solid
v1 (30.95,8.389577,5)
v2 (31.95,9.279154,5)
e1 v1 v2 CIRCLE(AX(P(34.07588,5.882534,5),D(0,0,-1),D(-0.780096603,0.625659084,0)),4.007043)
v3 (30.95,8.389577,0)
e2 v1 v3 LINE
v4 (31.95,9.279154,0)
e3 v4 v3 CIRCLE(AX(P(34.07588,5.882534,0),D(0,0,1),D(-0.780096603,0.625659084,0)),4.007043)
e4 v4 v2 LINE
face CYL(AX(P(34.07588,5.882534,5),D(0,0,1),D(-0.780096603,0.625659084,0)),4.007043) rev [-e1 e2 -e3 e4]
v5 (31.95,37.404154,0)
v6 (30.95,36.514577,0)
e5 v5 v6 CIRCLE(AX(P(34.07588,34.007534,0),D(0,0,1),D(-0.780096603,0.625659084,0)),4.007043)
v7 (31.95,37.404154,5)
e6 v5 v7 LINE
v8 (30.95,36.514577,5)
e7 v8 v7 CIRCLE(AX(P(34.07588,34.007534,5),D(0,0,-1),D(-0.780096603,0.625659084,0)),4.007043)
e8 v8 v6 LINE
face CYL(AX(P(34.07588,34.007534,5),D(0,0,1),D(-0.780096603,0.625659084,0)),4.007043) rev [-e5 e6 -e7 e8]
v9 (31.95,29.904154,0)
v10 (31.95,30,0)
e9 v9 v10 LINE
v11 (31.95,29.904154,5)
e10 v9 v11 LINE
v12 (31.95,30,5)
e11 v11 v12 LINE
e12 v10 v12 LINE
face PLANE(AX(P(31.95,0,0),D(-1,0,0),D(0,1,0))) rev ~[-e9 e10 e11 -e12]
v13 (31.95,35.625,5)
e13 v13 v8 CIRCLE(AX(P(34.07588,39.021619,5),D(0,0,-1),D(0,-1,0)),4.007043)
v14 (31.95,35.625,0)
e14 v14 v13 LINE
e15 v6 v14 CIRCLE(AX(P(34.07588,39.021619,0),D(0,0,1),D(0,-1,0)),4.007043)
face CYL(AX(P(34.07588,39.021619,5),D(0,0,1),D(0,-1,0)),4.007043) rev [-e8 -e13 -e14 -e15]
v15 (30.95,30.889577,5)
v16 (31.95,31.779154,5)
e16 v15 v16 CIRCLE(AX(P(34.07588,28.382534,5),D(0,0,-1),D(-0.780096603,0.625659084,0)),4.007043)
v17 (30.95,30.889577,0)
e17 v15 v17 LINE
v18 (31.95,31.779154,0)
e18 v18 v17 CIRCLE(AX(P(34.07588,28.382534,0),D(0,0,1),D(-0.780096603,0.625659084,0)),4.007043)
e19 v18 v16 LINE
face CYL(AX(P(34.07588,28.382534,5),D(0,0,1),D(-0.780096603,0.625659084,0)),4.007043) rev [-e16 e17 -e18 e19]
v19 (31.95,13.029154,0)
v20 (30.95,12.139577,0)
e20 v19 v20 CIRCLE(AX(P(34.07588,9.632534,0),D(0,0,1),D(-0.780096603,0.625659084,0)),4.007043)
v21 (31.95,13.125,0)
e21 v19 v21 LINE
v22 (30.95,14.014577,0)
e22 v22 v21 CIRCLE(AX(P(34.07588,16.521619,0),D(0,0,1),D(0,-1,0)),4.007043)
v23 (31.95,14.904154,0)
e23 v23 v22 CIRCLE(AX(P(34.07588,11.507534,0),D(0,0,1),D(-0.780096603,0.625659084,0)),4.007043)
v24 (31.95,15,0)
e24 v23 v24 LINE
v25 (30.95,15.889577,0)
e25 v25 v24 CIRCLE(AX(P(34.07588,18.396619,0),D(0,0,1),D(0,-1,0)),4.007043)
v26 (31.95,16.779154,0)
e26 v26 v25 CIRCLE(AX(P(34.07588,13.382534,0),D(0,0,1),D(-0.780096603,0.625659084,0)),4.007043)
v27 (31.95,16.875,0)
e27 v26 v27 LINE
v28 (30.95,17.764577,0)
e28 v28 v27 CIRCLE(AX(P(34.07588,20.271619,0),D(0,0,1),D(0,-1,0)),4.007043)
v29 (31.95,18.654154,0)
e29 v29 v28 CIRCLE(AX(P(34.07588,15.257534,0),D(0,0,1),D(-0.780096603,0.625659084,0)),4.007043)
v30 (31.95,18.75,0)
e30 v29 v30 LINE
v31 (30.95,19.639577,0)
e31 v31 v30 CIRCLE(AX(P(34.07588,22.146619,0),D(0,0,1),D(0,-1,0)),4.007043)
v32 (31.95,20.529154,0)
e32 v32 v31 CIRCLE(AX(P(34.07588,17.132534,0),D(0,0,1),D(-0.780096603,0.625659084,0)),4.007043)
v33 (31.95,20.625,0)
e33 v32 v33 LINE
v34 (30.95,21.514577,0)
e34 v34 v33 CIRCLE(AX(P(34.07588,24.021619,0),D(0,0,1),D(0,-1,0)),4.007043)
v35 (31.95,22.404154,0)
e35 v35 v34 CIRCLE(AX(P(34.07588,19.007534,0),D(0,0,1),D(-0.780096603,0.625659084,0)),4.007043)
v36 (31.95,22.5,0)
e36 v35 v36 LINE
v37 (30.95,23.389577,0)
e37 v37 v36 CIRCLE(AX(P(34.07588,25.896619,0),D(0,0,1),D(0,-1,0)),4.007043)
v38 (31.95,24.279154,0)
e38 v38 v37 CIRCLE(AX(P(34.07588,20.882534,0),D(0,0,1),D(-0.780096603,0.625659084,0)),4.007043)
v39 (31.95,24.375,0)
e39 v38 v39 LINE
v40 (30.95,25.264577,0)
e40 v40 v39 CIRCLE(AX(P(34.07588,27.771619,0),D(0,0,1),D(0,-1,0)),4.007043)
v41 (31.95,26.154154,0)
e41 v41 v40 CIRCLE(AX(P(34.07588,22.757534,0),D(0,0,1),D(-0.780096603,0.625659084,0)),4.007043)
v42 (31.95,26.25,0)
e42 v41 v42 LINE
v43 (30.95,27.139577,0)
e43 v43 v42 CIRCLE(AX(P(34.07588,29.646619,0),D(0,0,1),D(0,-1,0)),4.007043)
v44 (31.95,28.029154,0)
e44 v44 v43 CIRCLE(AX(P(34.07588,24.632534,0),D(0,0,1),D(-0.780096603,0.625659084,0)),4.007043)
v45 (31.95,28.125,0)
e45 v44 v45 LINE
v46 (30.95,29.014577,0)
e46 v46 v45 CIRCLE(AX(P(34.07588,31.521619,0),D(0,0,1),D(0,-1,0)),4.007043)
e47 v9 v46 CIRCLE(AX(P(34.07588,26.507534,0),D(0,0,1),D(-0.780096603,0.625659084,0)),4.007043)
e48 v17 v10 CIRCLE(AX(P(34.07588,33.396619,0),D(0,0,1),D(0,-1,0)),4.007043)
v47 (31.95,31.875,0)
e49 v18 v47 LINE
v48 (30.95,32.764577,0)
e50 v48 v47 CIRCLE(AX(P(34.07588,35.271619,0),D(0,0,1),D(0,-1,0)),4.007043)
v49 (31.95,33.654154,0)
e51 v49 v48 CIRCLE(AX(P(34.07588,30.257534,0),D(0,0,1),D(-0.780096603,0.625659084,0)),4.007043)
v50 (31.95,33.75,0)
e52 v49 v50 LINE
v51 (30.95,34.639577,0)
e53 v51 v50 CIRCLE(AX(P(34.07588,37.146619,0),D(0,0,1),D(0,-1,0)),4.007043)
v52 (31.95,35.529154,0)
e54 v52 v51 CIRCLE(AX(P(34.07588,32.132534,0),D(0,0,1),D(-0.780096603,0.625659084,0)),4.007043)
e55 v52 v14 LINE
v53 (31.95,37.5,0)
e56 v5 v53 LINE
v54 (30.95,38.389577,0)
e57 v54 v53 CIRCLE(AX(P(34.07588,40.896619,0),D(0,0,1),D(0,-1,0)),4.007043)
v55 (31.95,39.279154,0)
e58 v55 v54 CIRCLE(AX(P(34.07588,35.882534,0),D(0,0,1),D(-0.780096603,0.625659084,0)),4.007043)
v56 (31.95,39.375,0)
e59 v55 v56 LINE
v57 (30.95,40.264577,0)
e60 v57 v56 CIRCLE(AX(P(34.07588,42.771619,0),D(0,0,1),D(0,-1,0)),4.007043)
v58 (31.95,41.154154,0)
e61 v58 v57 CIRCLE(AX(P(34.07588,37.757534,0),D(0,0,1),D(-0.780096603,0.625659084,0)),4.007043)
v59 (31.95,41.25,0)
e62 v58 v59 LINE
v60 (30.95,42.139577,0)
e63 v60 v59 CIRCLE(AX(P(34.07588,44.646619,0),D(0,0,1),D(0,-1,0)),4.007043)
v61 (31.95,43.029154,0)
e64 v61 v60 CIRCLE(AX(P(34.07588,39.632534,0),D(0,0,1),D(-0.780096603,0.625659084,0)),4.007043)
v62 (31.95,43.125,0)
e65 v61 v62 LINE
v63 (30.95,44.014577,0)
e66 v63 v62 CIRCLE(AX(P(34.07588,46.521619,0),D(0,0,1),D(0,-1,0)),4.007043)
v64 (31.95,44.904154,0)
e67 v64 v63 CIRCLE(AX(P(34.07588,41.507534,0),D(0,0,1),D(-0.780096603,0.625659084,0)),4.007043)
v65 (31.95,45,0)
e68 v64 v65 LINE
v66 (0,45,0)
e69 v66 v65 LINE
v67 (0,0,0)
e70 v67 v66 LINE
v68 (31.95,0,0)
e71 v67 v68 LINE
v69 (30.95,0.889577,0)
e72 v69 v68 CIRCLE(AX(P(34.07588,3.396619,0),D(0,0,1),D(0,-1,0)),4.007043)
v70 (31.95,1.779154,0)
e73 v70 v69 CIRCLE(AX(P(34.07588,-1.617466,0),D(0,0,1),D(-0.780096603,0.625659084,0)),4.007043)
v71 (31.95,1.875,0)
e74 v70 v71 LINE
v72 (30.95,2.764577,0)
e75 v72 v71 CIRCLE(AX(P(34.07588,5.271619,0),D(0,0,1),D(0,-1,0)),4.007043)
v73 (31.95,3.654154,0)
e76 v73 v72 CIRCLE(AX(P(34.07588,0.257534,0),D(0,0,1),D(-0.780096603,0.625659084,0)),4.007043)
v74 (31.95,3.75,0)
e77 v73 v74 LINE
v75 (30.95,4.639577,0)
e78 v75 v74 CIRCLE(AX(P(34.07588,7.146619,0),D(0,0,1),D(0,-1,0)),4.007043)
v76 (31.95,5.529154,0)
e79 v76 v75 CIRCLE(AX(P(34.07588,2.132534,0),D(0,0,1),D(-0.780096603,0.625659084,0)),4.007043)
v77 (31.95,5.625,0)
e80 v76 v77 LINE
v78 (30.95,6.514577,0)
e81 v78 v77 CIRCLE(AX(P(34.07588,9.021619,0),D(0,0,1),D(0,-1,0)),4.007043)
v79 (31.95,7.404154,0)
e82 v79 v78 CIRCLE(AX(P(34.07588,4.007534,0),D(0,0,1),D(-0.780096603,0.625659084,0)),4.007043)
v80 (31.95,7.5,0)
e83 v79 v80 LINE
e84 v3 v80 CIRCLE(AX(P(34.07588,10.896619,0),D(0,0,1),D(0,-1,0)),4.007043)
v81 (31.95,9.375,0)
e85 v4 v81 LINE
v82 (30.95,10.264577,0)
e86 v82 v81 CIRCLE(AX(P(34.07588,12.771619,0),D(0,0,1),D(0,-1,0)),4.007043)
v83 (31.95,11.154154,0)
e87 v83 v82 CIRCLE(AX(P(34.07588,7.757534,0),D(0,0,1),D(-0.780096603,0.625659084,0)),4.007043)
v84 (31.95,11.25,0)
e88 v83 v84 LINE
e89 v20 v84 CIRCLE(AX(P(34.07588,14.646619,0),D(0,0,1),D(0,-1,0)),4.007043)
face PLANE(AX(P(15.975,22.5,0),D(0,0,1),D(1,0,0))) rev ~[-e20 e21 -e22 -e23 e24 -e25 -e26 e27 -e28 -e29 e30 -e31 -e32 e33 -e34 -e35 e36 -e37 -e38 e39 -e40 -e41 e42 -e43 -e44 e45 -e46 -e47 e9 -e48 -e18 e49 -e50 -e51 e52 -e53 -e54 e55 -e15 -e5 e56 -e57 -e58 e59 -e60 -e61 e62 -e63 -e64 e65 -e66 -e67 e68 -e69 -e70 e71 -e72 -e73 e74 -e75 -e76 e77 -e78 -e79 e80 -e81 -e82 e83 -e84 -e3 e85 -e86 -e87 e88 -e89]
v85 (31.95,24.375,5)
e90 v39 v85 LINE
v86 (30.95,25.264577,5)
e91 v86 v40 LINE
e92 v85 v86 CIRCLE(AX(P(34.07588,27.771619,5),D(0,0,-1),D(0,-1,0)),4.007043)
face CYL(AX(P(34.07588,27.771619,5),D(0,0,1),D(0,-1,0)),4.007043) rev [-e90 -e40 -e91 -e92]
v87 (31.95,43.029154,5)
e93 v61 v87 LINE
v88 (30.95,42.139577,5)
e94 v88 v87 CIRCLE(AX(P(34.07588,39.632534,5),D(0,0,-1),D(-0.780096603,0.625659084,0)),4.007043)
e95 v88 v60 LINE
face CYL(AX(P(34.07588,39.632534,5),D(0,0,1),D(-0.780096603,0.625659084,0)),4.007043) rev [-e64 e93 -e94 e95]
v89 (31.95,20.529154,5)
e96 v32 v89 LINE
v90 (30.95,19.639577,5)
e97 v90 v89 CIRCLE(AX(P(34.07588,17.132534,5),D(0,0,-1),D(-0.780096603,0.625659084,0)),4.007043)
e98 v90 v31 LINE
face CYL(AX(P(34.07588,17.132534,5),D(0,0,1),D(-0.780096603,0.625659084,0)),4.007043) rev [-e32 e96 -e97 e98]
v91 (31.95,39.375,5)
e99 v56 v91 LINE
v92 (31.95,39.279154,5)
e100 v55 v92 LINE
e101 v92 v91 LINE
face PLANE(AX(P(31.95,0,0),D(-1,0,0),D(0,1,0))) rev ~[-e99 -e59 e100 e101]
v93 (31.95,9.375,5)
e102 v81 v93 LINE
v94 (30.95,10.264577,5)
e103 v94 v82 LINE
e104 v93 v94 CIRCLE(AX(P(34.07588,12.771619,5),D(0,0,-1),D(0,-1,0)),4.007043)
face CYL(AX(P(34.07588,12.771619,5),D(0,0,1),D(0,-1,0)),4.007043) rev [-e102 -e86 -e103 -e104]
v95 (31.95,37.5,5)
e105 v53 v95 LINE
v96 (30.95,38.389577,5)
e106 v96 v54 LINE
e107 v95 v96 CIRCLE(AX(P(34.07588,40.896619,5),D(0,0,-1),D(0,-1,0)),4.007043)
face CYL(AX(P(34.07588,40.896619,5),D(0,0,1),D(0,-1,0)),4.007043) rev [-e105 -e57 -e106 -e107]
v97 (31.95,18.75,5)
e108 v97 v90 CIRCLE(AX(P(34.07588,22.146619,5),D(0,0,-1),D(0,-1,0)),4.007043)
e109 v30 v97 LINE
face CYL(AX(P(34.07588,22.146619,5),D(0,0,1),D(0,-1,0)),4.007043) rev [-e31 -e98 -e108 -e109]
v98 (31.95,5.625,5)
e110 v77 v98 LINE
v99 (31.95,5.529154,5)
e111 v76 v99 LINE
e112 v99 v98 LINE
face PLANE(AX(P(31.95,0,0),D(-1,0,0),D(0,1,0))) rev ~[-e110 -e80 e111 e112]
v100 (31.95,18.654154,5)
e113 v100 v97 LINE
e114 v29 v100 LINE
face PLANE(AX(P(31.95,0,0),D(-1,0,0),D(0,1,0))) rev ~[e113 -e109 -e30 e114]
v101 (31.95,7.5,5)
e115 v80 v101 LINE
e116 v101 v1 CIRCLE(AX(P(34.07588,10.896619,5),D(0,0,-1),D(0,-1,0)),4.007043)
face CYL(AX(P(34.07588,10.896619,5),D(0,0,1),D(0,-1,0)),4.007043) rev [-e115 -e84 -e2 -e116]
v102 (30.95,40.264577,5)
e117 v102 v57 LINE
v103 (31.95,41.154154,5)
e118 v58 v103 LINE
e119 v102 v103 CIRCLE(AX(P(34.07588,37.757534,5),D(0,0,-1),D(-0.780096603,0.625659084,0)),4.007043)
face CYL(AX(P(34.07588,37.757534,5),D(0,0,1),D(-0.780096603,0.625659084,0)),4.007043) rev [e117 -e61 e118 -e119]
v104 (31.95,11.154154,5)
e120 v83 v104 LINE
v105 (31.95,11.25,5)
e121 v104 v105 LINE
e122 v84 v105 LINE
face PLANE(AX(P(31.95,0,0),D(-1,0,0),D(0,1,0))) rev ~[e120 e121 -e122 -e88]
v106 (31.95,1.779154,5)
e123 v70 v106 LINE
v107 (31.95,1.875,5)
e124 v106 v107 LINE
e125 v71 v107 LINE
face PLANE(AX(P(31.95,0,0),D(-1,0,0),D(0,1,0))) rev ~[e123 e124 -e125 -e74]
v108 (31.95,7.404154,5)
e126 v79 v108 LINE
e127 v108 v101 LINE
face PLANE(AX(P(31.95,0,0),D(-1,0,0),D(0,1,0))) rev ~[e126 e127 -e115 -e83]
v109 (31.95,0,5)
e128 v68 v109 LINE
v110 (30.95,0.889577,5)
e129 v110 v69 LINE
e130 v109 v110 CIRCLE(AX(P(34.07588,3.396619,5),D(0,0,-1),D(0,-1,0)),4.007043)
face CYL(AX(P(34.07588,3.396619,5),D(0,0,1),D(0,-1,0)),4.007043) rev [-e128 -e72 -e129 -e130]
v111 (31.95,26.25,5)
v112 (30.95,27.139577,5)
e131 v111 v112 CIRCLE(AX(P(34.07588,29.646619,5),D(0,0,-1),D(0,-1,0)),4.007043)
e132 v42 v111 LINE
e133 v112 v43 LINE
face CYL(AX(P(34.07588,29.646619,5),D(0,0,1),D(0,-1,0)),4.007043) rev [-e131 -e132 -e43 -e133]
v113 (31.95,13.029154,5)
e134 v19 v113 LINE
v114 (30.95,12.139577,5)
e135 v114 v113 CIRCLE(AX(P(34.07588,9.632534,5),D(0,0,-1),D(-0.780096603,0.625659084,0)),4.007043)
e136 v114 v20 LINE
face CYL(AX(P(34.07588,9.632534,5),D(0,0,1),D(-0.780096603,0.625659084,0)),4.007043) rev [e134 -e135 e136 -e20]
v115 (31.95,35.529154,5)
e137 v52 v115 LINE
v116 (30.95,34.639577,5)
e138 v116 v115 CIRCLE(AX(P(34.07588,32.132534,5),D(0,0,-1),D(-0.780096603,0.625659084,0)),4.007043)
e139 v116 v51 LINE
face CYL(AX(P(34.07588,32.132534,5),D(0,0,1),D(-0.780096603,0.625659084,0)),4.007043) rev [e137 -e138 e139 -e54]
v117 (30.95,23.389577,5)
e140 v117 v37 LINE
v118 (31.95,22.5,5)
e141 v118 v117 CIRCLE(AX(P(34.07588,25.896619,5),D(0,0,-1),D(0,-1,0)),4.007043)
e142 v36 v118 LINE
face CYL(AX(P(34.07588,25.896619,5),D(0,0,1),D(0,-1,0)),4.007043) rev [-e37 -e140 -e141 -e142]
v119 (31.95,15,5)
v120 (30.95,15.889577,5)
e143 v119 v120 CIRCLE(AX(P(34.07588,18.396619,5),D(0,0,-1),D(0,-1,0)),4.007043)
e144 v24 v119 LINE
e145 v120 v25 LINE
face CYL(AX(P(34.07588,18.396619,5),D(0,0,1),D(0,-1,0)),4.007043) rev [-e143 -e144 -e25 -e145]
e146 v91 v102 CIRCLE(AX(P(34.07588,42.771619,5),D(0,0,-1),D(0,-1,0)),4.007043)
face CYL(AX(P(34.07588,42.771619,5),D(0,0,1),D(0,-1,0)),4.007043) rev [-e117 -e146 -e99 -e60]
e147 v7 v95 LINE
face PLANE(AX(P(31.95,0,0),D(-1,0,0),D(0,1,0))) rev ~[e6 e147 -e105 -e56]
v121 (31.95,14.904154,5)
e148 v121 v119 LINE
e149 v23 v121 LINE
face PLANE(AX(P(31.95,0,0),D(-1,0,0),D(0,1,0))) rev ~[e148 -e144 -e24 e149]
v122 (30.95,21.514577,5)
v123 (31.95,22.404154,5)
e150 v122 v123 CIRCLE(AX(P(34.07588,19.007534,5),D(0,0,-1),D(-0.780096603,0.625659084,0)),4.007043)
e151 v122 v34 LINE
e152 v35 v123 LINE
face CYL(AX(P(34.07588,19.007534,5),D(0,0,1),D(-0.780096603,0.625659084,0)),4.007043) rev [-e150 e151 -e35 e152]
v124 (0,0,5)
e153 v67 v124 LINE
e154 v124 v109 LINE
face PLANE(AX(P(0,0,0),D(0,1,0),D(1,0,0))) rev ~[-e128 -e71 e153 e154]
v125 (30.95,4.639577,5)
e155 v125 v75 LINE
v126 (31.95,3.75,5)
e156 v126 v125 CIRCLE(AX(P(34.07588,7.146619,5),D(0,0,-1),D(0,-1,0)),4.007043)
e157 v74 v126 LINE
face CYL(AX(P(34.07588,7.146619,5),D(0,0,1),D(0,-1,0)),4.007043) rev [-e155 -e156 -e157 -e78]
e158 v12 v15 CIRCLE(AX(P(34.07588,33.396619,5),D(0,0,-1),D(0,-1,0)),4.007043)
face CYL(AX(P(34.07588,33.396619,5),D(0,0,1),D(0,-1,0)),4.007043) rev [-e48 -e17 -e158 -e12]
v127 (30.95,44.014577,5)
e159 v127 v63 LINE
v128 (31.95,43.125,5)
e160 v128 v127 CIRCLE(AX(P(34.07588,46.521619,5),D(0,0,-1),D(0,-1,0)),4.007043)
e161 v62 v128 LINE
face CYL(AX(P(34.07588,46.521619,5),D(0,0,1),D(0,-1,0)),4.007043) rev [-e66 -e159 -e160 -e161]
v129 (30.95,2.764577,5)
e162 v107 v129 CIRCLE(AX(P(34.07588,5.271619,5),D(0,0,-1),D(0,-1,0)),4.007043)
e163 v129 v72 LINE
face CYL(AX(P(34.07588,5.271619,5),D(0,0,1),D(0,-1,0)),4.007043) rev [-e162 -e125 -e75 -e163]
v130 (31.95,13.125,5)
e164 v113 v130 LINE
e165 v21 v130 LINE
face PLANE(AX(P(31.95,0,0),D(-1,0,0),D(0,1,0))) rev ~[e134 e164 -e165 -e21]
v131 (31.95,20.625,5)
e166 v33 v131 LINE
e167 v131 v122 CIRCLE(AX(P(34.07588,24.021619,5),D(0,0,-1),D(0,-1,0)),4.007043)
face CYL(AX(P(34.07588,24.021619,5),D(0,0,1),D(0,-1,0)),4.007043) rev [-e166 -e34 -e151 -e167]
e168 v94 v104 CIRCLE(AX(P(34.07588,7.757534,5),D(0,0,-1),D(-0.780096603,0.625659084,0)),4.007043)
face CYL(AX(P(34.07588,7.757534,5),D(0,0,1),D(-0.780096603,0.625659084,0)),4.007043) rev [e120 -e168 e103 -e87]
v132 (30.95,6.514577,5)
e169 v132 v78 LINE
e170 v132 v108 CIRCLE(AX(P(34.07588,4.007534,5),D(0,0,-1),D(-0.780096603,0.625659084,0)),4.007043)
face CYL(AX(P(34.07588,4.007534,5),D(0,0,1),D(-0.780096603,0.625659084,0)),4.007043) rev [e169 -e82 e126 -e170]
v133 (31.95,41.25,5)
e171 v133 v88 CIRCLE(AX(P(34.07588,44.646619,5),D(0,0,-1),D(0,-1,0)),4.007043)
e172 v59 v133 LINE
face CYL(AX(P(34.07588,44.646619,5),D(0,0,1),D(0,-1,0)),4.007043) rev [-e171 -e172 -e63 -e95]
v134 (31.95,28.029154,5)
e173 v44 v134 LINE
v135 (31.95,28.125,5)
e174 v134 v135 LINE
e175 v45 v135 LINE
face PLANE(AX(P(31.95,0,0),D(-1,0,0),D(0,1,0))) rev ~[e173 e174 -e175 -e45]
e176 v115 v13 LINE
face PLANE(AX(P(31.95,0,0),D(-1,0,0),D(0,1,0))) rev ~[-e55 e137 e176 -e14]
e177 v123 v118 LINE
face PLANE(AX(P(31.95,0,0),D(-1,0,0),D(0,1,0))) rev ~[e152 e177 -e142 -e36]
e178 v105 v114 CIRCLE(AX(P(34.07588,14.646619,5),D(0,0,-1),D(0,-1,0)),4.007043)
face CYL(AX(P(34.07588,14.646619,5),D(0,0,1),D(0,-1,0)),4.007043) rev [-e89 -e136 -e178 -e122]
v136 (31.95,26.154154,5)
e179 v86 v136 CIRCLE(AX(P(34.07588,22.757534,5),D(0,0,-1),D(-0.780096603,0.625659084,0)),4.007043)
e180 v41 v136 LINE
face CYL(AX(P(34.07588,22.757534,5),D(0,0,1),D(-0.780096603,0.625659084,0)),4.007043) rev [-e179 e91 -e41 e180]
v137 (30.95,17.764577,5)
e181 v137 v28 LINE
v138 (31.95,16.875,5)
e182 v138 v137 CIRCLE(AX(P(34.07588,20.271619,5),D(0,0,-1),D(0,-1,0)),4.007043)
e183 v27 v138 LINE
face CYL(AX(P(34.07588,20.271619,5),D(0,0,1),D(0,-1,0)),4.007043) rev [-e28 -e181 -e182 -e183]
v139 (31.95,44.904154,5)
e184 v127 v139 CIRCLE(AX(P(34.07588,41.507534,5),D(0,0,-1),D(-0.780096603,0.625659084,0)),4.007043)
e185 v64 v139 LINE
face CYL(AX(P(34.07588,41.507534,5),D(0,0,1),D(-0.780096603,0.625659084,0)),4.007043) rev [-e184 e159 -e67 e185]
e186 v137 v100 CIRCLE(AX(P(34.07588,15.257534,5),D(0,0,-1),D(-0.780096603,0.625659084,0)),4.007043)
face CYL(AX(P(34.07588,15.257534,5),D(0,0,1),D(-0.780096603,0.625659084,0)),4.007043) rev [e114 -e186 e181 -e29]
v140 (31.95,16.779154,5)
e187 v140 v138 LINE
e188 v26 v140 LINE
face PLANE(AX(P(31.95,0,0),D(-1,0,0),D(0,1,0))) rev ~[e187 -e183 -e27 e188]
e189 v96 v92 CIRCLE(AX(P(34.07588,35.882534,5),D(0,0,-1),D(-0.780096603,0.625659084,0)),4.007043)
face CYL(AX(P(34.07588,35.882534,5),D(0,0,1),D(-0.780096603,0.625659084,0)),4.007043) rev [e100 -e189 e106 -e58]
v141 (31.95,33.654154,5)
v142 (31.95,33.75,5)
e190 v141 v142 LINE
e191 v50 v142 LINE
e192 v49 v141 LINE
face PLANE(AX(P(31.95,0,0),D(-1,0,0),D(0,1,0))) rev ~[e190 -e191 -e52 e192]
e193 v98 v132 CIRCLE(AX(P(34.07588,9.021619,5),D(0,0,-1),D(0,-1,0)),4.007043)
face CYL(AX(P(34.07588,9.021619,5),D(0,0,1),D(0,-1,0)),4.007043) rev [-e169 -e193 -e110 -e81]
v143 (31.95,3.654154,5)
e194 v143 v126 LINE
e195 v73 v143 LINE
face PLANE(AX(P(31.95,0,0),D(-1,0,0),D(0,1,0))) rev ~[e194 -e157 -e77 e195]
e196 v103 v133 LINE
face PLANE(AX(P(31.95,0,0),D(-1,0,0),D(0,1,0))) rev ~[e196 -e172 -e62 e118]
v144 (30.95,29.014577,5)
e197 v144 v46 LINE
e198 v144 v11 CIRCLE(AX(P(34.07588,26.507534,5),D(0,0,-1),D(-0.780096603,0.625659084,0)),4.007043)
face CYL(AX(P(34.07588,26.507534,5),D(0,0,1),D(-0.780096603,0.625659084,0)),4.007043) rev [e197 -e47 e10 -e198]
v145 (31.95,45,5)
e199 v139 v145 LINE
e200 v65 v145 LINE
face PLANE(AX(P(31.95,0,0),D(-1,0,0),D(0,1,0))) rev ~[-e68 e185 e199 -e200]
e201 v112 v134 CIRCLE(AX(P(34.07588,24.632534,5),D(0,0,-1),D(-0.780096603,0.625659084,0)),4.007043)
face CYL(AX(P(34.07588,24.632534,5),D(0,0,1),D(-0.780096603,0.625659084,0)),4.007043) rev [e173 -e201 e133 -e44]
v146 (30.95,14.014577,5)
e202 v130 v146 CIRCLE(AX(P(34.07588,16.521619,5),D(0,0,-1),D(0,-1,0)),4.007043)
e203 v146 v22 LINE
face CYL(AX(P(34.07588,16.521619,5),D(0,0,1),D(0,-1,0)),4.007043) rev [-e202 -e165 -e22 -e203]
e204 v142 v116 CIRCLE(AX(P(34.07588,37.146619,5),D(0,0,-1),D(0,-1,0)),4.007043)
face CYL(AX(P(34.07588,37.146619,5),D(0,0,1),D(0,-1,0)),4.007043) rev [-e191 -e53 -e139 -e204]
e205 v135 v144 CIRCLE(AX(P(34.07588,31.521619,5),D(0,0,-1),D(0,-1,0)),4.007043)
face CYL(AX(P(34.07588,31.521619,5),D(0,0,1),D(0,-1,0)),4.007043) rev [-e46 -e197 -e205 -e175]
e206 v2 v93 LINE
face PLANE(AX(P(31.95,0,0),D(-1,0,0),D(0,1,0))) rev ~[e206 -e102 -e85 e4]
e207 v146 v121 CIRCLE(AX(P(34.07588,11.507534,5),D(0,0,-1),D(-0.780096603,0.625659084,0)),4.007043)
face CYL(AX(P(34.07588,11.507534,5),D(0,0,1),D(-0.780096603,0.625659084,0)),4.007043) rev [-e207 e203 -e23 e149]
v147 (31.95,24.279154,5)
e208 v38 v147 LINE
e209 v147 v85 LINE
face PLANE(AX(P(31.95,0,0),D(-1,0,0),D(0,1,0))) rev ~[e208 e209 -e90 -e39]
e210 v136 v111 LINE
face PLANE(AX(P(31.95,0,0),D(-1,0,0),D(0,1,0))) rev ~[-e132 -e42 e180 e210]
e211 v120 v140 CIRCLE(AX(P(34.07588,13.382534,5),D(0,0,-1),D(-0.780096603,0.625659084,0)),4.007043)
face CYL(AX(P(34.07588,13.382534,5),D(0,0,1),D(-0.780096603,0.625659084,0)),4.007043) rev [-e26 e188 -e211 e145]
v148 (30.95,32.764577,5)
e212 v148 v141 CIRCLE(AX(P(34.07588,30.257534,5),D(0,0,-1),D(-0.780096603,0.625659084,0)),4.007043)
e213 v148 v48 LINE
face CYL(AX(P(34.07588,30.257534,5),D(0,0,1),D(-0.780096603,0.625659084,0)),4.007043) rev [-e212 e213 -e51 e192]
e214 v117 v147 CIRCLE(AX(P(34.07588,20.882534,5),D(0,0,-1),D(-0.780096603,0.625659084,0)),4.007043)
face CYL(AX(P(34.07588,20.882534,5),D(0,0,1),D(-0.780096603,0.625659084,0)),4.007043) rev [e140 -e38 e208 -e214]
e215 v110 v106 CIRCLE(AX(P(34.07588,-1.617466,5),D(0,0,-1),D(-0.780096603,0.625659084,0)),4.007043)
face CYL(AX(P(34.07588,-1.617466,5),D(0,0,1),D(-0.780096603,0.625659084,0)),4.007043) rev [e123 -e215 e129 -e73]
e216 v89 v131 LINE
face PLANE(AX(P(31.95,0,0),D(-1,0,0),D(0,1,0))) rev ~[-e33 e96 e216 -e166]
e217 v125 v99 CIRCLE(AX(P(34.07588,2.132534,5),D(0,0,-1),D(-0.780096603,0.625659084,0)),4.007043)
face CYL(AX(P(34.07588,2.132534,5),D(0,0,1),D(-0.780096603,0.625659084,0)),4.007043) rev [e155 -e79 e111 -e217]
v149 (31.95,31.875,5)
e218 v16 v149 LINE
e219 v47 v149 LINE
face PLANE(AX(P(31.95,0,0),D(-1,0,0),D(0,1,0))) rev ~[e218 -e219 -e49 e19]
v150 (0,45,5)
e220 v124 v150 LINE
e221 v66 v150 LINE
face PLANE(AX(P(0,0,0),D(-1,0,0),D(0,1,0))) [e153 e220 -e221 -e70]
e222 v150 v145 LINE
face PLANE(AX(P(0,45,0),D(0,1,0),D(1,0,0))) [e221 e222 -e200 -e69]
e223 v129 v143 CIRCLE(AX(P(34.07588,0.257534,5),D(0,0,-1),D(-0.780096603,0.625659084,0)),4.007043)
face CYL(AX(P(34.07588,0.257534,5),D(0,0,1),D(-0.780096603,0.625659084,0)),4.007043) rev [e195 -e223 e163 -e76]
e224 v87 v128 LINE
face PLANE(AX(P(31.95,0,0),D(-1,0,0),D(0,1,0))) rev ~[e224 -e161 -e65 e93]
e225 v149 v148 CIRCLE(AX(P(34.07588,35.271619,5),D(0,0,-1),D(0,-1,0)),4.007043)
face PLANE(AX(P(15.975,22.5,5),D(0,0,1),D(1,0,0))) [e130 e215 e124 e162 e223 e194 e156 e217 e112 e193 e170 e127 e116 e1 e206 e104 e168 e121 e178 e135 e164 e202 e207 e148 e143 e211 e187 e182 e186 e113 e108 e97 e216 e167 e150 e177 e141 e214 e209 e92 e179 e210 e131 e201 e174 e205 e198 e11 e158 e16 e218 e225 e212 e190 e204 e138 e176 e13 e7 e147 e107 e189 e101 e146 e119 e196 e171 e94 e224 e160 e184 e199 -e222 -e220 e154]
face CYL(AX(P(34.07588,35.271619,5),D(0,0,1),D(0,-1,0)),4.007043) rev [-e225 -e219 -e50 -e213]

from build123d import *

# Parameters (mm, degrees)
SKETCH_1_W             = 31.95
SKETCH_1_H             = 45
EXTRUDE_1_DEPTH        = 5
CUT_EXTRUDE_1_DEPTH    = 56.414822024
PATTERN_LINEAR_1_COUNT = 24
PATTERN_LINEAR_1_PITCH = 1.875


with BuildPart() as part:
    # 스케치1 → 보스-돌출1 (new body)
    with BuildSketch(Plane.XY):
        with Locations((15.975, 22.5)):
            Rectangle(SKETCH_1_W, SKETCH_1_H)
    extrude(amount=EXTRUDE_1_DEPTH)

    # 스케치2 → 컷-돌출1 (cut, through all)
    with BuildSketch(Plane.XY.offset(5)):
        with BuildLine():
            Line((34.075880325, 2.389576785), (34.075880325, -0.610423215))
            ThreePointArc((34.075880325, -0.610423215), (32.34230542, -0.216012405), (30.95, 0.889576785))
            ThreePointArc((30.95, 0.889576785), (32.34230542, 1.995165974), (34.075880325, 2.389576785))
        make_face()
    cut_extrude_1 = extrude(amount=-CUT_EXTRUDE_1_DEPTH, mode=Mode.SUBTRACT)

    # 선형 패턴1: 컷-돌출1 ×24
    with Locations(*[(0, i * PATTERN_LINEAR_1_PITCH, 0) for i in range(1, PATTERN_LINEAR_1_COUNT)]):
        add(cut_extrude_1, mode=Mode.SUBTRACT)


solid = part.part
